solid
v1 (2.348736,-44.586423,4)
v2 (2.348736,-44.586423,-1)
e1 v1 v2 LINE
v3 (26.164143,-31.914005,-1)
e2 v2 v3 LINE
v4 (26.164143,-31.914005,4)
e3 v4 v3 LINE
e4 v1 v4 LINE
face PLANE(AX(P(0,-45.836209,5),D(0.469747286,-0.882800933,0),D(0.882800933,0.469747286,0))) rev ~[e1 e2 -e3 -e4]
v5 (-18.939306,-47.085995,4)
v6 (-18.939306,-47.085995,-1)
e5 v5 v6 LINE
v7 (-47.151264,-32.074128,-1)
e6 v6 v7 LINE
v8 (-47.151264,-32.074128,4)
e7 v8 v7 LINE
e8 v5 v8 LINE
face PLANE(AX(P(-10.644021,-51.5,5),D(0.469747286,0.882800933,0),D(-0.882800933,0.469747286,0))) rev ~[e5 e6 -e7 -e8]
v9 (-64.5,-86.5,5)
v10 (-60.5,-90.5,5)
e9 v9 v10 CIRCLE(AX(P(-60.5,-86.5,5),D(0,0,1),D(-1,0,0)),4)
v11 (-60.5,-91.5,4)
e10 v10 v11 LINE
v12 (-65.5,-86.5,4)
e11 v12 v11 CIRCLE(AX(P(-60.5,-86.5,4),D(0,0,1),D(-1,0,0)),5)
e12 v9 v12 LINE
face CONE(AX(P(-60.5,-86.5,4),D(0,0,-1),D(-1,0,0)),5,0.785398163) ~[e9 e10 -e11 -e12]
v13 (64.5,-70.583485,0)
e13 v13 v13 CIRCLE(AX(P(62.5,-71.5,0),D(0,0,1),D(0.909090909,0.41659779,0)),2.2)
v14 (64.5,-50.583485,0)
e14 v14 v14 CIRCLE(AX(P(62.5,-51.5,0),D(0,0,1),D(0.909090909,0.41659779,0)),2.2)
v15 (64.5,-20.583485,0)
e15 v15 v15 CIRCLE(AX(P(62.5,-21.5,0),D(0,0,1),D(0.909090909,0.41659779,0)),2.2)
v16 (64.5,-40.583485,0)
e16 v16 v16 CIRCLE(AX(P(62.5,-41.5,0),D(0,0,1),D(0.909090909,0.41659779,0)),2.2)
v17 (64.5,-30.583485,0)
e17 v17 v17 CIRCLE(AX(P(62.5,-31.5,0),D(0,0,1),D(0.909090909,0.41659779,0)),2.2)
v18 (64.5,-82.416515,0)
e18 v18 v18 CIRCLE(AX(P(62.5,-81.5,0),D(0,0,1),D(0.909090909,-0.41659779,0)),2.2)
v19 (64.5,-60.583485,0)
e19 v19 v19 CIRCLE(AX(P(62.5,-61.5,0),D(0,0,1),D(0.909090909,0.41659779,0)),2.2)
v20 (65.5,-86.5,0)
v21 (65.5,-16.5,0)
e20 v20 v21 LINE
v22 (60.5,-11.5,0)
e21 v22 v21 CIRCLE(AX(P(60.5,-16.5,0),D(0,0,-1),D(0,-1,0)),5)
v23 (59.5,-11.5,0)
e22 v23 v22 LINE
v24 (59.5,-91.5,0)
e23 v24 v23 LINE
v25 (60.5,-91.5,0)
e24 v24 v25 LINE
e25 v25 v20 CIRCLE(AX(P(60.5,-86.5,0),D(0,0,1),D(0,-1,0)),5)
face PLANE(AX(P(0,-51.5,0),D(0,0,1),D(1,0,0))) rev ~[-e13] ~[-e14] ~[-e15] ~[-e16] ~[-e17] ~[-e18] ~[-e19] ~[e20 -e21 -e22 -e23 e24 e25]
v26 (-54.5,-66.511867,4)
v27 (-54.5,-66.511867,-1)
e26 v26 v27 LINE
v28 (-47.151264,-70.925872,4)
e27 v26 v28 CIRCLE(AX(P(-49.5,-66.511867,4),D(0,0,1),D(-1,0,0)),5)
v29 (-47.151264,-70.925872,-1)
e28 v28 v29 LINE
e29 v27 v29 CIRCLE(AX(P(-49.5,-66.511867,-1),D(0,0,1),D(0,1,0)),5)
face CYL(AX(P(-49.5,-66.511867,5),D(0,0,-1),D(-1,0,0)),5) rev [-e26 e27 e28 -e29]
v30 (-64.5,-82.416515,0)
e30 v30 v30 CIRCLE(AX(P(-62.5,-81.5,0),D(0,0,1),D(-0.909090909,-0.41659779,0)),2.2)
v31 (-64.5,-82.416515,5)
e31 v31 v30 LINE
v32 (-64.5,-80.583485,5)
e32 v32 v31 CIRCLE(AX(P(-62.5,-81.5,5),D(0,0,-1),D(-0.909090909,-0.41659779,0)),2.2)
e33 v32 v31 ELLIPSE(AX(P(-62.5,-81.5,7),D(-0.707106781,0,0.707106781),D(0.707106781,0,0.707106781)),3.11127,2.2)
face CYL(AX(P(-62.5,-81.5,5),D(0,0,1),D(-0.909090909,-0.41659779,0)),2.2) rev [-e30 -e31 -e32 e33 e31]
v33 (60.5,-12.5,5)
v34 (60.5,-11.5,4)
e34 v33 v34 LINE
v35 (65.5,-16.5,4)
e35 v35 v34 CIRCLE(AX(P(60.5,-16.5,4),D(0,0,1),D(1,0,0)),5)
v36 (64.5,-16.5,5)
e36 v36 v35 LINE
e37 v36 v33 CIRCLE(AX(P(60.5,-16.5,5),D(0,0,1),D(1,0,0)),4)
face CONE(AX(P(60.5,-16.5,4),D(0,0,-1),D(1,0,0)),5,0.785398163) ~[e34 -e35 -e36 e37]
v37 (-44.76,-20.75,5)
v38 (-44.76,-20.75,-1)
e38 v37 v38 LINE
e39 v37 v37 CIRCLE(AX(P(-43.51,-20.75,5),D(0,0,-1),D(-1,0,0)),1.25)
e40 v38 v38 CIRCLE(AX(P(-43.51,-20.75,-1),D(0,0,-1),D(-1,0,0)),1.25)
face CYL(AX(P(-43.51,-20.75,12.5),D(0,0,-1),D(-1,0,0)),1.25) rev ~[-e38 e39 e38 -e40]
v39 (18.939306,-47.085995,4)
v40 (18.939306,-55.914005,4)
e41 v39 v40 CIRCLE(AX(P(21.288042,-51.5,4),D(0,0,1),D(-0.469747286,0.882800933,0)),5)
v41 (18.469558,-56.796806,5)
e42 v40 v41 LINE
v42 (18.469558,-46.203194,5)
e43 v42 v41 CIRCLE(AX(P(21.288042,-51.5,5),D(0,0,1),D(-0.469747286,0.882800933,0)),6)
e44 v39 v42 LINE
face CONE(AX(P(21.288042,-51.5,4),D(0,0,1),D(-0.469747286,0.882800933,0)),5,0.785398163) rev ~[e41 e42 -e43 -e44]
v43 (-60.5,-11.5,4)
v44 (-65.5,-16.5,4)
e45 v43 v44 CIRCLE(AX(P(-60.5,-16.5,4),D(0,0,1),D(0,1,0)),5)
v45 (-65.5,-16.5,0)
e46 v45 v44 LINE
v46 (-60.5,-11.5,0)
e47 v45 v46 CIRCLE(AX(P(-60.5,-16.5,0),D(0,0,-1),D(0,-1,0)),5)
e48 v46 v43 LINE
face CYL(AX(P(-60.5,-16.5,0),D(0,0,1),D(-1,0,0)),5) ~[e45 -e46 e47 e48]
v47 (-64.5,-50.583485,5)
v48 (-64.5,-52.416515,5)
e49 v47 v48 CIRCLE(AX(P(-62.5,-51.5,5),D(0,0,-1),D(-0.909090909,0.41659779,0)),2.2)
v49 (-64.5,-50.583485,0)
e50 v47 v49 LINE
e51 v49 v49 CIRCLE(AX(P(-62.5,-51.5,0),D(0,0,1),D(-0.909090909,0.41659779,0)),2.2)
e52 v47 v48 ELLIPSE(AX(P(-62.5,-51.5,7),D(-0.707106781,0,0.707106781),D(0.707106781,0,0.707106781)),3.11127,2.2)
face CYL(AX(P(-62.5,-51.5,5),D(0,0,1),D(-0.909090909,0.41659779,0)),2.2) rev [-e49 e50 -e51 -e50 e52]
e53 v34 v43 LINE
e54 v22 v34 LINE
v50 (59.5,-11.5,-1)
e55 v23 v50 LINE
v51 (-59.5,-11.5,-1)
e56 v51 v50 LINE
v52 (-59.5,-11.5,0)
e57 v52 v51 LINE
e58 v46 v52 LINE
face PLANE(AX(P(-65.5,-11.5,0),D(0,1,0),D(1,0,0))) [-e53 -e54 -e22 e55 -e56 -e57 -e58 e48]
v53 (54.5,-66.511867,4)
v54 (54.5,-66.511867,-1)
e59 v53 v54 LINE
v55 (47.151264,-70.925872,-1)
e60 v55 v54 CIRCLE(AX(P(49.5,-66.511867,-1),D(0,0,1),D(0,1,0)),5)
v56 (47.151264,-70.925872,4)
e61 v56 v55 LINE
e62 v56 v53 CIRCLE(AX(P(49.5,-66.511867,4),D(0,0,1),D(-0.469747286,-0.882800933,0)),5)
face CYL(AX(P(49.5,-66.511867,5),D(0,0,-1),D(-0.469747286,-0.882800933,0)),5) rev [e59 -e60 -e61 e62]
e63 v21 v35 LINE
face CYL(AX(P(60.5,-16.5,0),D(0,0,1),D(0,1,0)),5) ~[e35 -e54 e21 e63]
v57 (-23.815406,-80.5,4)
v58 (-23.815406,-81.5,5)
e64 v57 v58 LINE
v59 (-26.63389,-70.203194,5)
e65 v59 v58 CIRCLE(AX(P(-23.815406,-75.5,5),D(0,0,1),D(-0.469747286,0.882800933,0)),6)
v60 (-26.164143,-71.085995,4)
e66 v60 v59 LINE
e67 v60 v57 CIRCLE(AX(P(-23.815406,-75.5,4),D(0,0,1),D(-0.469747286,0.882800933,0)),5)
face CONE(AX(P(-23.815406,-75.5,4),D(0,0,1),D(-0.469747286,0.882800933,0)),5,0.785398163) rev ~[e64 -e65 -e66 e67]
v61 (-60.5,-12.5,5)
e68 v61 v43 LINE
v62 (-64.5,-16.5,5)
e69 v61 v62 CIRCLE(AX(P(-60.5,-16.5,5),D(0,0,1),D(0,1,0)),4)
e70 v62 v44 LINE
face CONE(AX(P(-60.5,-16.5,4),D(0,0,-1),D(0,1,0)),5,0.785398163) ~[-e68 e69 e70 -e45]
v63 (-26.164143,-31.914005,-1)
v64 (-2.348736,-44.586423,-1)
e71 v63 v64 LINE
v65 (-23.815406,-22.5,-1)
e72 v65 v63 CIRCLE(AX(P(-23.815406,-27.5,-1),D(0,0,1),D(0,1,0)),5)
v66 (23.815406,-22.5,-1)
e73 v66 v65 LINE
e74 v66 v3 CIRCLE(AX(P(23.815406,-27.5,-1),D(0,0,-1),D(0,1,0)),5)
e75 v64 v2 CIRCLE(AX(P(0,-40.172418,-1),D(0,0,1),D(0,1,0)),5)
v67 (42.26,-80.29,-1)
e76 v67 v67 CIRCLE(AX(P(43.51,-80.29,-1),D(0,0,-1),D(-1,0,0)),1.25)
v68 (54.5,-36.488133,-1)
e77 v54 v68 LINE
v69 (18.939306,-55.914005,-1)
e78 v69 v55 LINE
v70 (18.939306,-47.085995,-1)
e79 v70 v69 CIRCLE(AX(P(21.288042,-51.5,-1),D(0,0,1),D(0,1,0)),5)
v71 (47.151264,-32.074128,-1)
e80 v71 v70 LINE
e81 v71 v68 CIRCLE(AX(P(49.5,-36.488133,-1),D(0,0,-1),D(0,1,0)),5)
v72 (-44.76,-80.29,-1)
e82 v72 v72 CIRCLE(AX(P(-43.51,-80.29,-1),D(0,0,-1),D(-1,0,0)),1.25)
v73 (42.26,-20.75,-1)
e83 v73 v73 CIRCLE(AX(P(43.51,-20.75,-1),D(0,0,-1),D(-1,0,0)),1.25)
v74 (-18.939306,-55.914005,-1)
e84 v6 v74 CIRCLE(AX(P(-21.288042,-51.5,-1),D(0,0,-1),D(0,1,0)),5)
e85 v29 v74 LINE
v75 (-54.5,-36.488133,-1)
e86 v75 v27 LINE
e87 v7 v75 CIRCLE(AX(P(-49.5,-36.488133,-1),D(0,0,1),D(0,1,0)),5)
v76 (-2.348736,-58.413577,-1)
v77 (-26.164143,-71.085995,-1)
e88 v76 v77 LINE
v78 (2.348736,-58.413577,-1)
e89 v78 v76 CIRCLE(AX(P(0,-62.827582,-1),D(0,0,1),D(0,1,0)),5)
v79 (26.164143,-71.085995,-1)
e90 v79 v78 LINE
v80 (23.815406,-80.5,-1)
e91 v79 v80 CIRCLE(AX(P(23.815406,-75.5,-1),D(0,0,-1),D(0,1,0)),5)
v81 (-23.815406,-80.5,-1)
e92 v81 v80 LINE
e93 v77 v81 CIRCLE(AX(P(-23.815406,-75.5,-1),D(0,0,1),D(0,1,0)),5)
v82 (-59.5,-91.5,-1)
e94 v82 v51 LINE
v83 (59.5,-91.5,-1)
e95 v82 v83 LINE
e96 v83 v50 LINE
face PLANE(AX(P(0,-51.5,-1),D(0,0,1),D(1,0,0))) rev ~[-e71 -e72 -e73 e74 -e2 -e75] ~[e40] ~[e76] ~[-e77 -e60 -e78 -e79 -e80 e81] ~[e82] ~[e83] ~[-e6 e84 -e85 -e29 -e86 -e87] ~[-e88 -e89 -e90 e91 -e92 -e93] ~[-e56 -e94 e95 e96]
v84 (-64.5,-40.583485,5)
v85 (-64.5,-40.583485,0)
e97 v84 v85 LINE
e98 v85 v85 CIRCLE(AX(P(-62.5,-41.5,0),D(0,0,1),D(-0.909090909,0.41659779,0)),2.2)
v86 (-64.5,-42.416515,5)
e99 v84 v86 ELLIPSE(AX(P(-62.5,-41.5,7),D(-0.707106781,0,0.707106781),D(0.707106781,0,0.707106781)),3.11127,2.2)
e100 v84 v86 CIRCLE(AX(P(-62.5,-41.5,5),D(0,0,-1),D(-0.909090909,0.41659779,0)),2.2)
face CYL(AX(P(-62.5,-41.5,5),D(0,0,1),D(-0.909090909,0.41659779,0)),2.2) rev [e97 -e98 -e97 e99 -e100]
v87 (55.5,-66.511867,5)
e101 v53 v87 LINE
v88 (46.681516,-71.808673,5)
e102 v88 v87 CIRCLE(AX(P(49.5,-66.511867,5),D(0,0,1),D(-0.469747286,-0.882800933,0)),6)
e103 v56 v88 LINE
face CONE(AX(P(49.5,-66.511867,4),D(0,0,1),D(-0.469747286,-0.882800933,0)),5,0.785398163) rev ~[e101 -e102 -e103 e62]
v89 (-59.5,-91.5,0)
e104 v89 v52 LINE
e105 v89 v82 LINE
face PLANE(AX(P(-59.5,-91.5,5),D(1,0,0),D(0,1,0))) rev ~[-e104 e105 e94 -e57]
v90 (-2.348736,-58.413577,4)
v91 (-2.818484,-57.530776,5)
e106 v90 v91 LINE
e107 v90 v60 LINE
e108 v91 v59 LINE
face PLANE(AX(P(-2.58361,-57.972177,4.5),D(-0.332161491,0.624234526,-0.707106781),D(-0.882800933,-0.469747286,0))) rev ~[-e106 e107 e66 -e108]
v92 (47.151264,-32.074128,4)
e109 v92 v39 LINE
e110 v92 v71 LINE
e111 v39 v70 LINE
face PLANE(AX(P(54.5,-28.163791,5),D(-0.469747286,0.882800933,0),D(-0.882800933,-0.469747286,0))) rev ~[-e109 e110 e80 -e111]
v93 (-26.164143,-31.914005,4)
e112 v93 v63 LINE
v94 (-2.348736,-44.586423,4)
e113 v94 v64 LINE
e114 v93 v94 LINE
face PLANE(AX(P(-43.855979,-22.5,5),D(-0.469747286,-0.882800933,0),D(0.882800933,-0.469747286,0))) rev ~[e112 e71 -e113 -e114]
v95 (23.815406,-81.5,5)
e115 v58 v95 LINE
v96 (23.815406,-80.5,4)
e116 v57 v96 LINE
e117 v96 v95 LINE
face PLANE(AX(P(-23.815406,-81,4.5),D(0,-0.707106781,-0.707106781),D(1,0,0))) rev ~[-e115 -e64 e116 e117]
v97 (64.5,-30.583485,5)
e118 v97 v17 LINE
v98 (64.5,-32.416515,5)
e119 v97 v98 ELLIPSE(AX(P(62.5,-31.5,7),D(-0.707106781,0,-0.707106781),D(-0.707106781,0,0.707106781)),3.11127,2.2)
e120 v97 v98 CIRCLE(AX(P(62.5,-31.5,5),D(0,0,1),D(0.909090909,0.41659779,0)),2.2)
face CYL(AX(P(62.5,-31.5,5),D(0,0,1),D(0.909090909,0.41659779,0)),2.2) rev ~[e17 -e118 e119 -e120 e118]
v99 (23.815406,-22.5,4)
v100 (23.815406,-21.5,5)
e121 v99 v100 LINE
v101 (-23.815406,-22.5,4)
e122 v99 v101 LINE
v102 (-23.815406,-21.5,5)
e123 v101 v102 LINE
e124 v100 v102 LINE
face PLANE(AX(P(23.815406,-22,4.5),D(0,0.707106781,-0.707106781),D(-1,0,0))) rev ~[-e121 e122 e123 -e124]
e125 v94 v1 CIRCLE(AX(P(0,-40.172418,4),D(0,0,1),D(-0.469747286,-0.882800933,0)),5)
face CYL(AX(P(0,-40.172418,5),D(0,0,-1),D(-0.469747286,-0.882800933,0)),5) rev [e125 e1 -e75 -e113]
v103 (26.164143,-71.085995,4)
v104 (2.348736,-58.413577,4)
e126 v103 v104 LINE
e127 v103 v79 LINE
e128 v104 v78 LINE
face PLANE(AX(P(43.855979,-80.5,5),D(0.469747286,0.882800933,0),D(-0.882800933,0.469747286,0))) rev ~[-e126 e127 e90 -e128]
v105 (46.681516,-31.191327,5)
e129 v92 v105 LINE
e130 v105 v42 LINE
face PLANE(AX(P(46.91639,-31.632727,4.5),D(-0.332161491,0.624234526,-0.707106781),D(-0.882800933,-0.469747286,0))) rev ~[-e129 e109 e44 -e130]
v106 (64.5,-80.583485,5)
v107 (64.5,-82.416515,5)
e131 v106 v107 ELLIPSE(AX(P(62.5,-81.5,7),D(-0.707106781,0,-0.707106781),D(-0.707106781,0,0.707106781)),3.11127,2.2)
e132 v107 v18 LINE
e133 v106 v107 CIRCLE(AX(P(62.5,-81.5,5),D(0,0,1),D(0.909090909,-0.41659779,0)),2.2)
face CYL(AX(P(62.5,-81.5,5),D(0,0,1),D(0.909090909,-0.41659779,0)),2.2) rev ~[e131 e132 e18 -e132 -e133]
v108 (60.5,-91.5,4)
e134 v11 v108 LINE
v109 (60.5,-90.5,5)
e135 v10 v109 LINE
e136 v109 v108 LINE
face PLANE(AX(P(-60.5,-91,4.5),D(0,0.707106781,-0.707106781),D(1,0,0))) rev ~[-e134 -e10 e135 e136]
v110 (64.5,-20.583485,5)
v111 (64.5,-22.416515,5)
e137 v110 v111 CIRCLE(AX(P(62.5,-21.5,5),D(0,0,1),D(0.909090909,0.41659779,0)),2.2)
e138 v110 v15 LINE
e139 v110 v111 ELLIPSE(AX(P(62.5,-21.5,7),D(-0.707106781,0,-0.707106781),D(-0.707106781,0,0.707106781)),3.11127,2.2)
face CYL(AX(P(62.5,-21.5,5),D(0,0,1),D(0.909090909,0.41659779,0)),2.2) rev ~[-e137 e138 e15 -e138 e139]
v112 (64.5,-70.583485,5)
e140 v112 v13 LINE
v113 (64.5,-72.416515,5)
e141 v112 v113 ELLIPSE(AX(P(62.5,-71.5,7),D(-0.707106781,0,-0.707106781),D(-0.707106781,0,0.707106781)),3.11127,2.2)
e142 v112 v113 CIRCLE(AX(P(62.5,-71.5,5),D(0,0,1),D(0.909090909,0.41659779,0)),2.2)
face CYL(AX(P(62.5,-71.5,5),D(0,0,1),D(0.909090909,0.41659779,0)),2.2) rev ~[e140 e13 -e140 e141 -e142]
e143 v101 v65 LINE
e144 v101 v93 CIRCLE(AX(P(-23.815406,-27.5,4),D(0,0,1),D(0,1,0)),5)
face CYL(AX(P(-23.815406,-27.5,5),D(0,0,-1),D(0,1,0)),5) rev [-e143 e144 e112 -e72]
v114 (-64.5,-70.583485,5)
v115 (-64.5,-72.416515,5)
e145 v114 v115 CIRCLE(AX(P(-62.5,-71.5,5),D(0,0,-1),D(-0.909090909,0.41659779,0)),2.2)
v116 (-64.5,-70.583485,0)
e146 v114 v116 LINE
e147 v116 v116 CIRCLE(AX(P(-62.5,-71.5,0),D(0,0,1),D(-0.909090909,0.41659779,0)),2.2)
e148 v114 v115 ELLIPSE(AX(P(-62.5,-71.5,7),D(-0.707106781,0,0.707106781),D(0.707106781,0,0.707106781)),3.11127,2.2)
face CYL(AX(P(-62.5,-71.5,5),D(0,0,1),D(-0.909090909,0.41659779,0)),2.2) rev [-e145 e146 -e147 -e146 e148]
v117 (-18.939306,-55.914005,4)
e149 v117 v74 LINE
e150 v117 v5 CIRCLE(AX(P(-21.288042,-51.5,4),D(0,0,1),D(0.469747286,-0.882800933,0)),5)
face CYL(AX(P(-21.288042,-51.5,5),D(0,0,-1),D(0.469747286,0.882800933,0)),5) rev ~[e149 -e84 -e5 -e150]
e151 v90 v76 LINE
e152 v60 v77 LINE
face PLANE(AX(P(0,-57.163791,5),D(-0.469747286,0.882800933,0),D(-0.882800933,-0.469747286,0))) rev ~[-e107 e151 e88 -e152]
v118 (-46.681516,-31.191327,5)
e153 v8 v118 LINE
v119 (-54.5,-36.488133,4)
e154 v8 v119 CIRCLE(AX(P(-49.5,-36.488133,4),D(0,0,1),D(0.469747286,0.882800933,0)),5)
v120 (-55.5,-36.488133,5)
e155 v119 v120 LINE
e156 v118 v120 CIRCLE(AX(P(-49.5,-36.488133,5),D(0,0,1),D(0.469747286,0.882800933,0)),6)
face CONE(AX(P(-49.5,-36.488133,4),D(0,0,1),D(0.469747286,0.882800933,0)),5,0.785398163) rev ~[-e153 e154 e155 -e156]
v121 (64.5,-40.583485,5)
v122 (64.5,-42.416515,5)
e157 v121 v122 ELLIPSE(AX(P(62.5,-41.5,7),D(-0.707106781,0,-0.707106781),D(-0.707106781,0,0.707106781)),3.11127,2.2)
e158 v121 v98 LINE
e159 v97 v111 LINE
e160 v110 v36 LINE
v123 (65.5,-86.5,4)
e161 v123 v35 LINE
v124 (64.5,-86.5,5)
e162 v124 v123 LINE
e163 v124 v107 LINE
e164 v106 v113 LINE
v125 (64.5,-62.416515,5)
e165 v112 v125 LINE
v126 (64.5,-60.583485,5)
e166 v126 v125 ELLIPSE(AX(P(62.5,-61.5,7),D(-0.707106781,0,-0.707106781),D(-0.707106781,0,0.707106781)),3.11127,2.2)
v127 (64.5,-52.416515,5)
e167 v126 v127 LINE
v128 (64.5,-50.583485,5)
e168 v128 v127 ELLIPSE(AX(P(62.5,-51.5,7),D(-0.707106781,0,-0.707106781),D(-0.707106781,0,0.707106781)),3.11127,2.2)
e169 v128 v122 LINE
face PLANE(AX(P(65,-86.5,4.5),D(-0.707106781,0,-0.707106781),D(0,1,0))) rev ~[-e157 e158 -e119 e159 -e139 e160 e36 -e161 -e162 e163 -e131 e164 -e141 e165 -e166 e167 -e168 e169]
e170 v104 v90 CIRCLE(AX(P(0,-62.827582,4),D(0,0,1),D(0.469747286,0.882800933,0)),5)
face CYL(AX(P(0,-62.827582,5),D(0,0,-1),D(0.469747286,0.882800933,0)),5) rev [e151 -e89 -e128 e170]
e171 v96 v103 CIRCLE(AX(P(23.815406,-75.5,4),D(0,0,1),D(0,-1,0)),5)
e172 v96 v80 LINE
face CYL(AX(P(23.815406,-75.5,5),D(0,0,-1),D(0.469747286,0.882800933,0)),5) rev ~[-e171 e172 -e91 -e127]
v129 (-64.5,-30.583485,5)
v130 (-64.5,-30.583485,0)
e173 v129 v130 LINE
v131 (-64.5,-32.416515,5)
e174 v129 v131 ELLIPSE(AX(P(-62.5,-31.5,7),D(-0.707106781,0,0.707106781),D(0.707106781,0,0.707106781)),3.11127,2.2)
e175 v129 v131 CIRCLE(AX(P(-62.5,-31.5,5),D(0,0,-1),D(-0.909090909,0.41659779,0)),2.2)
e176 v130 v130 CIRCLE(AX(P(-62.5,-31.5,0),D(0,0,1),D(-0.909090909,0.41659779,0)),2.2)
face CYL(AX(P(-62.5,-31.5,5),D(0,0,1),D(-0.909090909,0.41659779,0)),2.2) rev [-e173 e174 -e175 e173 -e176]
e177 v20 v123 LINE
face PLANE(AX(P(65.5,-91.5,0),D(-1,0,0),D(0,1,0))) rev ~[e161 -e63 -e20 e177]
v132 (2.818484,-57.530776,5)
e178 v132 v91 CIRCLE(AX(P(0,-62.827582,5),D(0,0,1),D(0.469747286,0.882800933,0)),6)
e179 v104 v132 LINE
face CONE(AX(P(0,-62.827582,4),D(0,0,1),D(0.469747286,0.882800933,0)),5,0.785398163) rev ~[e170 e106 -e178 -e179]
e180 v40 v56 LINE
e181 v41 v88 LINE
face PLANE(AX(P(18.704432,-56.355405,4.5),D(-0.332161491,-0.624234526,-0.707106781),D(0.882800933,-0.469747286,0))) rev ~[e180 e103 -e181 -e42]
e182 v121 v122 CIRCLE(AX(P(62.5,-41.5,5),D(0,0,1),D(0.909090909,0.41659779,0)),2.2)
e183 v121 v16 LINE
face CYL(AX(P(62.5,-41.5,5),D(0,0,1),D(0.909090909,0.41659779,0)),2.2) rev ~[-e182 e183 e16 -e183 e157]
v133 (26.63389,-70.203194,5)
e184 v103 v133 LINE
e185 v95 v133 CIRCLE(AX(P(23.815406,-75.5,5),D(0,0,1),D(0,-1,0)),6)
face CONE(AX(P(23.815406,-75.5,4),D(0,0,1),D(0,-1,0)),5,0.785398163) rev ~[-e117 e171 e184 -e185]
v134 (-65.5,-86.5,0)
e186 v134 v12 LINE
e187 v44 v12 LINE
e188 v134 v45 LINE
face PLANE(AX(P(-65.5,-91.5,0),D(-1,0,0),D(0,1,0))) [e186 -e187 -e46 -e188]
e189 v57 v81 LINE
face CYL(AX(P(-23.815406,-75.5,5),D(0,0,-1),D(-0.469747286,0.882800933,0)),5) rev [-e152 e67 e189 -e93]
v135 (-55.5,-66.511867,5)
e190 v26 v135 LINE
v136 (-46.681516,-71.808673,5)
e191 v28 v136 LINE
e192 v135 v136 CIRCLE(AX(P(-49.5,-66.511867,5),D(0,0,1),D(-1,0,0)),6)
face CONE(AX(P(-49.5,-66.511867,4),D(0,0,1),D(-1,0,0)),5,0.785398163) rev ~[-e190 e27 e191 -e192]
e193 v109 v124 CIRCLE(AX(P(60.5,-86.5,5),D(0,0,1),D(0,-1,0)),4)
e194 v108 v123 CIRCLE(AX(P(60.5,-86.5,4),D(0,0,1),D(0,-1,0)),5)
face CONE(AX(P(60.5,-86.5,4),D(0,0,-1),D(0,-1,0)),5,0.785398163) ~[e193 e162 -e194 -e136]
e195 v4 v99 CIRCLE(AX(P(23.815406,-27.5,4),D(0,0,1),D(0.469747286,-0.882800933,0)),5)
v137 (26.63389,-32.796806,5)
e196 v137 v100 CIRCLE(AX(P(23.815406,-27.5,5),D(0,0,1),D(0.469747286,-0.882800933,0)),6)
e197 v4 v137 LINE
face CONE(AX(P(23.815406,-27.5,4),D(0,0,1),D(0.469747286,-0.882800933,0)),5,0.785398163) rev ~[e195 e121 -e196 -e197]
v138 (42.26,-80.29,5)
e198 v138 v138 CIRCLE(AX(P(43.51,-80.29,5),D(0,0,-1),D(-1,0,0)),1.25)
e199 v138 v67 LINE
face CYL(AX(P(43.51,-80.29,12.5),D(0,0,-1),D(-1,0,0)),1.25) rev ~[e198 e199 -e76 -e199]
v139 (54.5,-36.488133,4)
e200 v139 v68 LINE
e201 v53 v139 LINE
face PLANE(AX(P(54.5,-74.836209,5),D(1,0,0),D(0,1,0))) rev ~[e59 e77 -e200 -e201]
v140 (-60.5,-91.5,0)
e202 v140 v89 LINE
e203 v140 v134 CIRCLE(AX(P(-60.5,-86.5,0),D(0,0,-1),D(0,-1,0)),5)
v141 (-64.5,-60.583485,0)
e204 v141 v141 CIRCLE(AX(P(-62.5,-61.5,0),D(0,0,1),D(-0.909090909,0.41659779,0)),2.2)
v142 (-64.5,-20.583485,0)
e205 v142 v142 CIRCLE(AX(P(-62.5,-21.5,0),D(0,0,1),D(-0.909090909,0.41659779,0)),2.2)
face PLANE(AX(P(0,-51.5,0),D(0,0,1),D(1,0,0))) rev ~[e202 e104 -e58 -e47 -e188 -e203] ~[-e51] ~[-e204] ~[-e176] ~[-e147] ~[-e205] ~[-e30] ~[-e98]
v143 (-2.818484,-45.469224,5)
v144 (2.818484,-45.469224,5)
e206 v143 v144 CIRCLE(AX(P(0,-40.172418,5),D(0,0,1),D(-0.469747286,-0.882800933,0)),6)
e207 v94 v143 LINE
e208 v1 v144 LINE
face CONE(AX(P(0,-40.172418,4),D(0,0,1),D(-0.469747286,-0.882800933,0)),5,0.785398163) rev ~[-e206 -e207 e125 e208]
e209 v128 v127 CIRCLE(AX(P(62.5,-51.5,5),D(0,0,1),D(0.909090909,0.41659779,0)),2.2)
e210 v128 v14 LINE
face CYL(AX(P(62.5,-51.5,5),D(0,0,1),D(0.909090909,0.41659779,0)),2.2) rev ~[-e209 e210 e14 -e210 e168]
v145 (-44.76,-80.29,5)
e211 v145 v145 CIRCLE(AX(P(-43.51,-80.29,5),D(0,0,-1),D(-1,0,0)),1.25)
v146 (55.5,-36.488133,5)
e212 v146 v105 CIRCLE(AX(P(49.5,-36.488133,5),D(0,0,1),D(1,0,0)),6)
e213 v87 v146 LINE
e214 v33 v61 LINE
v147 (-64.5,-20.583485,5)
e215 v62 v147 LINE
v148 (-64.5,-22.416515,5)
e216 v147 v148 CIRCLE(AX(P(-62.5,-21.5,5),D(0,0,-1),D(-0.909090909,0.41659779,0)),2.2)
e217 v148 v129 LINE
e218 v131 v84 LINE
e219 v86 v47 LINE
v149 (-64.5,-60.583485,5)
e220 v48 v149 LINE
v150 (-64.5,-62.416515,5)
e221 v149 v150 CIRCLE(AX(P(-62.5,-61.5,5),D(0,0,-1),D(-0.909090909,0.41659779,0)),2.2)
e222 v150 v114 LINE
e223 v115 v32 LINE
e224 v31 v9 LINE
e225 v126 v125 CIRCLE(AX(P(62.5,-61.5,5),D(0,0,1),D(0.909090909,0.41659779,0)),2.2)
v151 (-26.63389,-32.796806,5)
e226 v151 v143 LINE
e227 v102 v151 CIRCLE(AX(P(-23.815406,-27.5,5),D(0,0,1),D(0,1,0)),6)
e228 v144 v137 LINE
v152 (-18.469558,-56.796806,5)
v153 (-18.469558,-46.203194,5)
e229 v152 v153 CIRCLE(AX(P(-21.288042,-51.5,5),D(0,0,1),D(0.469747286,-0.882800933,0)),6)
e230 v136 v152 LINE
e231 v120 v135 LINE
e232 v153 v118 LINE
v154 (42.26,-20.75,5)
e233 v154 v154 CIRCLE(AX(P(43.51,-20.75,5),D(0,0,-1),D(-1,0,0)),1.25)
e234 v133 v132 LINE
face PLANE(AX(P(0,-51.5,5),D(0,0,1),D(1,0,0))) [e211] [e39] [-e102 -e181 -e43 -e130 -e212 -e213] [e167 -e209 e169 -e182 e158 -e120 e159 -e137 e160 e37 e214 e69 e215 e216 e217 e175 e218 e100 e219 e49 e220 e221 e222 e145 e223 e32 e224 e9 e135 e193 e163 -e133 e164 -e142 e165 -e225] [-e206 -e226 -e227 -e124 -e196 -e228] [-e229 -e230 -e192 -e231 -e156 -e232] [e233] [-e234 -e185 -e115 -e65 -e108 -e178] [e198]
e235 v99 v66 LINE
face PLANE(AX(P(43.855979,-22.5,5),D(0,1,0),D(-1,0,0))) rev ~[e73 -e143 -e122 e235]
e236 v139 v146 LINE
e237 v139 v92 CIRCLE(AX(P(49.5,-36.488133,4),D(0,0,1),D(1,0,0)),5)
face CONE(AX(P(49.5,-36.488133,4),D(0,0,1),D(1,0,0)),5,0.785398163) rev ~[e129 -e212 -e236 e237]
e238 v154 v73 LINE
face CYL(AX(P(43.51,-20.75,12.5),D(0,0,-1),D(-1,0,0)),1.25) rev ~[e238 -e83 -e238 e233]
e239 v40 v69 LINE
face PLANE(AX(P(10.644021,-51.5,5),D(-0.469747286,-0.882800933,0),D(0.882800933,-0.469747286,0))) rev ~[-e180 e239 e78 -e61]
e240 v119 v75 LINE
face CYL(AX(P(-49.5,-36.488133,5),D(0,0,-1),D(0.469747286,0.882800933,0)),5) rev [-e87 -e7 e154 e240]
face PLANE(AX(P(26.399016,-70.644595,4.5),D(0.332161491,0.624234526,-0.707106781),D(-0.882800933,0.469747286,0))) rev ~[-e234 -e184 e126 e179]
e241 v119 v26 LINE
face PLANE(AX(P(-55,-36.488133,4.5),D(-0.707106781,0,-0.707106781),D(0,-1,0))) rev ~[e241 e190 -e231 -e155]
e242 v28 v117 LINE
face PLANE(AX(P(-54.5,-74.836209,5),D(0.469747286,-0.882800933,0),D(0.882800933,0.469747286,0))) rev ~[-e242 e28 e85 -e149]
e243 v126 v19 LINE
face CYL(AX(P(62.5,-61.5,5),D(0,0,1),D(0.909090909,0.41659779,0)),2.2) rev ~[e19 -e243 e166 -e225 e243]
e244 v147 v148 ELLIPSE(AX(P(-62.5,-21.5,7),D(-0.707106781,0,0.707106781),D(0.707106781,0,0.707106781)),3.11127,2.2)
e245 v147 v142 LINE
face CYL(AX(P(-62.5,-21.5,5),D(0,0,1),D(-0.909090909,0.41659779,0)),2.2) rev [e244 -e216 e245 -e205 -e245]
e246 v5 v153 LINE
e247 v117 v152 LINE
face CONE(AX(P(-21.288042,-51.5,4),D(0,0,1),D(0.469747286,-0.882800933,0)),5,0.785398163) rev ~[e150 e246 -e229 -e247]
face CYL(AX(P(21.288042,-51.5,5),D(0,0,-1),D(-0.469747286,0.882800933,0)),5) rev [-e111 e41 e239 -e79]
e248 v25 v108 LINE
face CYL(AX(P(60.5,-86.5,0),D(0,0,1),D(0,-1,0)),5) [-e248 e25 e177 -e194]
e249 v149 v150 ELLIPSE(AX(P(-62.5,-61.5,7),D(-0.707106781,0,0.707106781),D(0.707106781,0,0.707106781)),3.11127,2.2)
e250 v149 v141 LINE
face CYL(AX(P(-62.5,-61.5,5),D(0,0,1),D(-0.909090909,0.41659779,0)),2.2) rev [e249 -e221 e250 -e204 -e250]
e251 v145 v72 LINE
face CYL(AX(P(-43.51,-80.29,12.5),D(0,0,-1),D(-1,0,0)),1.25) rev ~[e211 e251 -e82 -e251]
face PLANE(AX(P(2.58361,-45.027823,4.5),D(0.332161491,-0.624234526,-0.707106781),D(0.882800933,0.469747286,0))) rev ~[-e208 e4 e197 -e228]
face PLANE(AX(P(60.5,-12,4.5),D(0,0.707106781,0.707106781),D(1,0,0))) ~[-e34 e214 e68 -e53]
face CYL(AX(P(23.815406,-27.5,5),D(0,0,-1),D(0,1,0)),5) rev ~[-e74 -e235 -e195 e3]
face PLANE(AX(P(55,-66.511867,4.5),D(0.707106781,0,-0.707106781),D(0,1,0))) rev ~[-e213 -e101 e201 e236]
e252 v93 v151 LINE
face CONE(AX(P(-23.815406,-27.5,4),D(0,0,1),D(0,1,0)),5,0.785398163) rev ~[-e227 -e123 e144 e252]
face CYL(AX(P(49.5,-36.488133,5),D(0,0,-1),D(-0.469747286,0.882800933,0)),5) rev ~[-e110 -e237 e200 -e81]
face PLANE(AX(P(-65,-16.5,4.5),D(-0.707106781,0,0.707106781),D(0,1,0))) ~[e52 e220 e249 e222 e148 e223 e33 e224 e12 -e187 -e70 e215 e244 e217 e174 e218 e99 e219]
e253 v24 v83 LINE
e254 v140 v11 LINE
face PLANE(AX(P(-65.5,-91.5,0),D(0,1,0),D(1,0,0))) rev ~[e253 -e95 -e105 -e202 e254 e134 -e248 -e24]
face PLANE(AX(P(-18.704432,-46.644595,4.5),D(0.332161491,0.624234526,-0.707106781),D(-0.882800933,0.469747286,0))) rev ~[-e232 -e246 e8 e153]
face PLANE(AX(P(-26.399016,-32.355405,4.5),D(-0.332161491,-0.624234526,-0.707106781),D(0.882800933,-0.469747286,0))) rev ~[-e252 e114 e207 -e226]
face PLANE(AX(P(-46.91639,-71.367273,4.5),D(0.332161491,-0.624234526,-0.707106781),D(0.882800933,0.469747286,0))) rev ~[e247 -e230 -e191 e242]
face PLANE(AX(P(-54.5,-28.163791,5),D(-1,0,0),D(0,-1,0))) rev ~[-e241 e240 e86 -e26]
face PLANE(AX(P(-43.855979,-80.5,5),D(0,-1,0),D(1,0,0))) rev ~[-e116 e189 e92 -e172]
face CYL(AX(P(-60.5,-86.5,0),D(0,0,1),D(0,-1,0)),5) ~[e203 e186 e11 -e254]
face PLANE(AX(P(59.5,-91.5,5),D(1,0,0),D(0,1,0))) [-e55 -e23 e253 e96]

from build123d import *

# Parameters (mm, degrees)
SKETCH_3_W             = 131
SKETCH_3_H             = 80
EXTRUDE_3_DEPTH        = 5
SKETCH_4_W             = 119
SKETCH_4_H             = 80
EXTRUDE_4_DEPTH        = 6
FILLET_2_R             = 5
CHAMFER_1_SIZE         = 1
CUT_EXTRUDE_1_DEPTH    = 6
FILLET_3_R             = 5
CHAMFER_2_SIZE         = 1
SKETCH_6_R             = 2.2
CUT_EXTRUDE_2_DEPTH    = 11
HOLE_WIZARD_M3_1_D     = 2.5
HOLE_WIZARD_M3_1_DEPTH = 7.5
HOLE_WIZARD_M3_1_TIP   = 0.751075774


with BuildPart() as part:
    # 草图3 → 凸台-拉伸3 (new body)
    with BuildSketch(Plane.XY):
        with Locations((0, -51.5)):
            Rectangle(SKETCH_3_W, SKETCH_3_H)
    extrude(amount=EXTRUDE_3_DEPTH)

    # 草图4 → 凸台-拉伸4 (add)
    with BuildSketch(Plane.XY.offset(5)):
        with Locations((0, -51.5)):
            Rectangle(SKETCH_4_W, SKETCH_4_H)
    extrude(amount=-EXTRUDE_4_DEPTH)

    # 圆角2
    fillet_2_edges = [part.edges().sort_by_distance(p)[0] for p in [
        (-65.5, -11.5, 2.5),
        (65.5, -11.5, 2.5),
        (65.5, -91.5, 2.5),
        (-65.5, -91.5, 2.5),
    ]]
    fillet(fillet_2_edges, radius=FILLET_2_R)

    # 倒角1
    chamfer_1_edges = [part.edges().sort_by_distance(p)[0] for p in [
        (0, -11.5, 5),
        (65.5, -51.5, 5),
        (0, -91.5, 5),
        (-65.5, -51.5, 5),
        (64.035533906, -90.035533906, 5),
        (-64.035533906, -90.035533906, 5),
        (-64.035533906, -12.964466094, 5),
        (64.035533906, -12.964466094, 5),
    ]]
    chamfer(chamfer_1_edges, length=CHAMFER_1_SIZE)

    # 草图5 → 切除-拉伸1 (cut)
    with BuildSketch(Plane.XY.offset(5)):
        Polygon((-10.644021059, -51.5), (-54.5, -28.163791023), (-54.5, -74.836208978), align=None)
        Polygon((43.855978941, -22.5), (-43.855978941, -22.5), (0, -45.836208978), align=None)
        Polygon((54.5, -28.163791023), (10.644021059, -51.5), (54.5, -74.836208978), align=None)
        Polygon((43.855978941, -80.5), (0, -57.163791023), (-43.855978941, -80.5), align=None)
    extrude(amount=-CUT_EXTRUDE_1_DEPTH, mode=Mode.SUBTRACT)

    # 圆角3
    fillet_3_edges = [part.edges().sort_by_distance(p)[0] for p in [
        (10.644021059, -51.5, 2),
        (54.5, -28.163791023, 2),
        (54.5, -74.836208978, 2),
        (-43.855978941, -22.5, 2),
        (43.855978941, -22.5, 2),
        (0, -45.836208978, 2),
        (-43.855978941, -80.5, 2),
        (0, -57.163791023, 2),
        (43.855978941, -80.5, 2),
        (-54.5, -74.836208978, 2),
        (-54.5, -28.163791023, 2),
        (-10.644021059, -51.5, 2),
    ]]
    fillet(fillet_3_edges, radius=FILLET_3_R)

    # 倒角2
    chamfer_2_edges = [part.edges().sort_by_distance(p)[0] for p in [
        (33.045284631, -39.580061586, 5),
        (54.5, -51.5, 5),
        (33.045284631, -63.419938415, 5),
        (14.256439507, -38.250213644, 5),
        (-14.256439507, -38.250213644, 5),
        (0, -22.5, 5),
        (-33.045284631, -39.580061586, 5),
        (-33.045284631, -63.419938415, 5),
        (-54.5, -51.5, 5),
        (-14.256439507, -64.749786356, 5),
        (14.256439507, -64.749786356, 5),
        (0, -80.5, 5),
        (52.074521107, -32.201893935, 5),
        (52.074521107, -70.798106066, 5),
        (16.288042118, -51.5, 5),
        (0, -45.172417956, 5),
        (-28.666695849, -26.289632976, 5),
        (28.666695849, -26.289632976, 5),
        (-16.288042118, -51.5, 5),
        (-52.074521107, -70.798106066, 5),
        (-52.074521107, -32.201893935, 5),
        (0, -57.827582045, 5),
        (28.666695849, -76.710367025, 5),
        (-28.666695849, -76.710367025, 5),
    ]]
    chamfer(chamfer_2_edges, length=CHAMFER_2_SIZE)

    # 草图6 → 切除-拉伸2 (cut)
    with BuildSketch(Plane.XY.offset(5)):
        with Locations(Location((62.5, -21.5, 0), (0, 0, 24.619977329))):
            Circle(SKETCH_6_R)
        with Locations(Location((62.5, -31.5, 0), (0, 0, 24.619977329))):
            Circle(SKETCH_6_R)
        with Locations(Location((62.5, -41.5, 0), (0, 0, 24.619977329))):
            Circle(SKETCH_6_R)
        with Locations(Location((62.5, -51.5, 0), (0, 0, 24.619977329))):
            Circle(SKETCH_6_R)
        with Locations(Location((62.5, -61.5, 0), (0, 0, 24.619977329))):
            Circle(SKETCH_6_R)
        with Locations(Location((62.5, -71.5, 0), (0, 0, 24.619977329))):
            Circle(SKETCH_6_R)
        with Locations(Location((62.5, -81.5, 0), (0, 0, 335.380022671))):
            Circle(SKETCH_6_R)
    cut_extrude_2 = extrude(amount=-CUT_EXTRUDE_2_DEPTH, mode=Mode.SUBTRACT)

    # 镜向1: 切除-拉伸2 across plane
    add(cut_extrude_2.mirror(Plane(origin=(0, 0, 0), x_dir=(0, 0, 1), z_dir=(1, 0, 0))), mode=Mode.SUBTRACT)

    # M3 螺纹孔1
    with Locations(Plane.XY.offset(5)):
        with Locations((-43.51, -20.75), (43.51, -20.75), (43.51, -80.29), (-43.51, -80.29)):
            Hole(HOLE_WIZARD_M3_1_D / 2, depth=HOLE_WIZARD_M3_1_DEPTH)
            with Locations((0, 0, -(HOLE_WIZARD_M3_1_DEPTH + HOLE_WIZARD_M3_1_TIP / 2))):  # 118° drill point
                Cone(0, HOLE_WIZARD_M3_1_D / 2, HOLE_WIZARD_M3_1_TIP, mode=Mode.SUBTRACT)


solid = part.part
